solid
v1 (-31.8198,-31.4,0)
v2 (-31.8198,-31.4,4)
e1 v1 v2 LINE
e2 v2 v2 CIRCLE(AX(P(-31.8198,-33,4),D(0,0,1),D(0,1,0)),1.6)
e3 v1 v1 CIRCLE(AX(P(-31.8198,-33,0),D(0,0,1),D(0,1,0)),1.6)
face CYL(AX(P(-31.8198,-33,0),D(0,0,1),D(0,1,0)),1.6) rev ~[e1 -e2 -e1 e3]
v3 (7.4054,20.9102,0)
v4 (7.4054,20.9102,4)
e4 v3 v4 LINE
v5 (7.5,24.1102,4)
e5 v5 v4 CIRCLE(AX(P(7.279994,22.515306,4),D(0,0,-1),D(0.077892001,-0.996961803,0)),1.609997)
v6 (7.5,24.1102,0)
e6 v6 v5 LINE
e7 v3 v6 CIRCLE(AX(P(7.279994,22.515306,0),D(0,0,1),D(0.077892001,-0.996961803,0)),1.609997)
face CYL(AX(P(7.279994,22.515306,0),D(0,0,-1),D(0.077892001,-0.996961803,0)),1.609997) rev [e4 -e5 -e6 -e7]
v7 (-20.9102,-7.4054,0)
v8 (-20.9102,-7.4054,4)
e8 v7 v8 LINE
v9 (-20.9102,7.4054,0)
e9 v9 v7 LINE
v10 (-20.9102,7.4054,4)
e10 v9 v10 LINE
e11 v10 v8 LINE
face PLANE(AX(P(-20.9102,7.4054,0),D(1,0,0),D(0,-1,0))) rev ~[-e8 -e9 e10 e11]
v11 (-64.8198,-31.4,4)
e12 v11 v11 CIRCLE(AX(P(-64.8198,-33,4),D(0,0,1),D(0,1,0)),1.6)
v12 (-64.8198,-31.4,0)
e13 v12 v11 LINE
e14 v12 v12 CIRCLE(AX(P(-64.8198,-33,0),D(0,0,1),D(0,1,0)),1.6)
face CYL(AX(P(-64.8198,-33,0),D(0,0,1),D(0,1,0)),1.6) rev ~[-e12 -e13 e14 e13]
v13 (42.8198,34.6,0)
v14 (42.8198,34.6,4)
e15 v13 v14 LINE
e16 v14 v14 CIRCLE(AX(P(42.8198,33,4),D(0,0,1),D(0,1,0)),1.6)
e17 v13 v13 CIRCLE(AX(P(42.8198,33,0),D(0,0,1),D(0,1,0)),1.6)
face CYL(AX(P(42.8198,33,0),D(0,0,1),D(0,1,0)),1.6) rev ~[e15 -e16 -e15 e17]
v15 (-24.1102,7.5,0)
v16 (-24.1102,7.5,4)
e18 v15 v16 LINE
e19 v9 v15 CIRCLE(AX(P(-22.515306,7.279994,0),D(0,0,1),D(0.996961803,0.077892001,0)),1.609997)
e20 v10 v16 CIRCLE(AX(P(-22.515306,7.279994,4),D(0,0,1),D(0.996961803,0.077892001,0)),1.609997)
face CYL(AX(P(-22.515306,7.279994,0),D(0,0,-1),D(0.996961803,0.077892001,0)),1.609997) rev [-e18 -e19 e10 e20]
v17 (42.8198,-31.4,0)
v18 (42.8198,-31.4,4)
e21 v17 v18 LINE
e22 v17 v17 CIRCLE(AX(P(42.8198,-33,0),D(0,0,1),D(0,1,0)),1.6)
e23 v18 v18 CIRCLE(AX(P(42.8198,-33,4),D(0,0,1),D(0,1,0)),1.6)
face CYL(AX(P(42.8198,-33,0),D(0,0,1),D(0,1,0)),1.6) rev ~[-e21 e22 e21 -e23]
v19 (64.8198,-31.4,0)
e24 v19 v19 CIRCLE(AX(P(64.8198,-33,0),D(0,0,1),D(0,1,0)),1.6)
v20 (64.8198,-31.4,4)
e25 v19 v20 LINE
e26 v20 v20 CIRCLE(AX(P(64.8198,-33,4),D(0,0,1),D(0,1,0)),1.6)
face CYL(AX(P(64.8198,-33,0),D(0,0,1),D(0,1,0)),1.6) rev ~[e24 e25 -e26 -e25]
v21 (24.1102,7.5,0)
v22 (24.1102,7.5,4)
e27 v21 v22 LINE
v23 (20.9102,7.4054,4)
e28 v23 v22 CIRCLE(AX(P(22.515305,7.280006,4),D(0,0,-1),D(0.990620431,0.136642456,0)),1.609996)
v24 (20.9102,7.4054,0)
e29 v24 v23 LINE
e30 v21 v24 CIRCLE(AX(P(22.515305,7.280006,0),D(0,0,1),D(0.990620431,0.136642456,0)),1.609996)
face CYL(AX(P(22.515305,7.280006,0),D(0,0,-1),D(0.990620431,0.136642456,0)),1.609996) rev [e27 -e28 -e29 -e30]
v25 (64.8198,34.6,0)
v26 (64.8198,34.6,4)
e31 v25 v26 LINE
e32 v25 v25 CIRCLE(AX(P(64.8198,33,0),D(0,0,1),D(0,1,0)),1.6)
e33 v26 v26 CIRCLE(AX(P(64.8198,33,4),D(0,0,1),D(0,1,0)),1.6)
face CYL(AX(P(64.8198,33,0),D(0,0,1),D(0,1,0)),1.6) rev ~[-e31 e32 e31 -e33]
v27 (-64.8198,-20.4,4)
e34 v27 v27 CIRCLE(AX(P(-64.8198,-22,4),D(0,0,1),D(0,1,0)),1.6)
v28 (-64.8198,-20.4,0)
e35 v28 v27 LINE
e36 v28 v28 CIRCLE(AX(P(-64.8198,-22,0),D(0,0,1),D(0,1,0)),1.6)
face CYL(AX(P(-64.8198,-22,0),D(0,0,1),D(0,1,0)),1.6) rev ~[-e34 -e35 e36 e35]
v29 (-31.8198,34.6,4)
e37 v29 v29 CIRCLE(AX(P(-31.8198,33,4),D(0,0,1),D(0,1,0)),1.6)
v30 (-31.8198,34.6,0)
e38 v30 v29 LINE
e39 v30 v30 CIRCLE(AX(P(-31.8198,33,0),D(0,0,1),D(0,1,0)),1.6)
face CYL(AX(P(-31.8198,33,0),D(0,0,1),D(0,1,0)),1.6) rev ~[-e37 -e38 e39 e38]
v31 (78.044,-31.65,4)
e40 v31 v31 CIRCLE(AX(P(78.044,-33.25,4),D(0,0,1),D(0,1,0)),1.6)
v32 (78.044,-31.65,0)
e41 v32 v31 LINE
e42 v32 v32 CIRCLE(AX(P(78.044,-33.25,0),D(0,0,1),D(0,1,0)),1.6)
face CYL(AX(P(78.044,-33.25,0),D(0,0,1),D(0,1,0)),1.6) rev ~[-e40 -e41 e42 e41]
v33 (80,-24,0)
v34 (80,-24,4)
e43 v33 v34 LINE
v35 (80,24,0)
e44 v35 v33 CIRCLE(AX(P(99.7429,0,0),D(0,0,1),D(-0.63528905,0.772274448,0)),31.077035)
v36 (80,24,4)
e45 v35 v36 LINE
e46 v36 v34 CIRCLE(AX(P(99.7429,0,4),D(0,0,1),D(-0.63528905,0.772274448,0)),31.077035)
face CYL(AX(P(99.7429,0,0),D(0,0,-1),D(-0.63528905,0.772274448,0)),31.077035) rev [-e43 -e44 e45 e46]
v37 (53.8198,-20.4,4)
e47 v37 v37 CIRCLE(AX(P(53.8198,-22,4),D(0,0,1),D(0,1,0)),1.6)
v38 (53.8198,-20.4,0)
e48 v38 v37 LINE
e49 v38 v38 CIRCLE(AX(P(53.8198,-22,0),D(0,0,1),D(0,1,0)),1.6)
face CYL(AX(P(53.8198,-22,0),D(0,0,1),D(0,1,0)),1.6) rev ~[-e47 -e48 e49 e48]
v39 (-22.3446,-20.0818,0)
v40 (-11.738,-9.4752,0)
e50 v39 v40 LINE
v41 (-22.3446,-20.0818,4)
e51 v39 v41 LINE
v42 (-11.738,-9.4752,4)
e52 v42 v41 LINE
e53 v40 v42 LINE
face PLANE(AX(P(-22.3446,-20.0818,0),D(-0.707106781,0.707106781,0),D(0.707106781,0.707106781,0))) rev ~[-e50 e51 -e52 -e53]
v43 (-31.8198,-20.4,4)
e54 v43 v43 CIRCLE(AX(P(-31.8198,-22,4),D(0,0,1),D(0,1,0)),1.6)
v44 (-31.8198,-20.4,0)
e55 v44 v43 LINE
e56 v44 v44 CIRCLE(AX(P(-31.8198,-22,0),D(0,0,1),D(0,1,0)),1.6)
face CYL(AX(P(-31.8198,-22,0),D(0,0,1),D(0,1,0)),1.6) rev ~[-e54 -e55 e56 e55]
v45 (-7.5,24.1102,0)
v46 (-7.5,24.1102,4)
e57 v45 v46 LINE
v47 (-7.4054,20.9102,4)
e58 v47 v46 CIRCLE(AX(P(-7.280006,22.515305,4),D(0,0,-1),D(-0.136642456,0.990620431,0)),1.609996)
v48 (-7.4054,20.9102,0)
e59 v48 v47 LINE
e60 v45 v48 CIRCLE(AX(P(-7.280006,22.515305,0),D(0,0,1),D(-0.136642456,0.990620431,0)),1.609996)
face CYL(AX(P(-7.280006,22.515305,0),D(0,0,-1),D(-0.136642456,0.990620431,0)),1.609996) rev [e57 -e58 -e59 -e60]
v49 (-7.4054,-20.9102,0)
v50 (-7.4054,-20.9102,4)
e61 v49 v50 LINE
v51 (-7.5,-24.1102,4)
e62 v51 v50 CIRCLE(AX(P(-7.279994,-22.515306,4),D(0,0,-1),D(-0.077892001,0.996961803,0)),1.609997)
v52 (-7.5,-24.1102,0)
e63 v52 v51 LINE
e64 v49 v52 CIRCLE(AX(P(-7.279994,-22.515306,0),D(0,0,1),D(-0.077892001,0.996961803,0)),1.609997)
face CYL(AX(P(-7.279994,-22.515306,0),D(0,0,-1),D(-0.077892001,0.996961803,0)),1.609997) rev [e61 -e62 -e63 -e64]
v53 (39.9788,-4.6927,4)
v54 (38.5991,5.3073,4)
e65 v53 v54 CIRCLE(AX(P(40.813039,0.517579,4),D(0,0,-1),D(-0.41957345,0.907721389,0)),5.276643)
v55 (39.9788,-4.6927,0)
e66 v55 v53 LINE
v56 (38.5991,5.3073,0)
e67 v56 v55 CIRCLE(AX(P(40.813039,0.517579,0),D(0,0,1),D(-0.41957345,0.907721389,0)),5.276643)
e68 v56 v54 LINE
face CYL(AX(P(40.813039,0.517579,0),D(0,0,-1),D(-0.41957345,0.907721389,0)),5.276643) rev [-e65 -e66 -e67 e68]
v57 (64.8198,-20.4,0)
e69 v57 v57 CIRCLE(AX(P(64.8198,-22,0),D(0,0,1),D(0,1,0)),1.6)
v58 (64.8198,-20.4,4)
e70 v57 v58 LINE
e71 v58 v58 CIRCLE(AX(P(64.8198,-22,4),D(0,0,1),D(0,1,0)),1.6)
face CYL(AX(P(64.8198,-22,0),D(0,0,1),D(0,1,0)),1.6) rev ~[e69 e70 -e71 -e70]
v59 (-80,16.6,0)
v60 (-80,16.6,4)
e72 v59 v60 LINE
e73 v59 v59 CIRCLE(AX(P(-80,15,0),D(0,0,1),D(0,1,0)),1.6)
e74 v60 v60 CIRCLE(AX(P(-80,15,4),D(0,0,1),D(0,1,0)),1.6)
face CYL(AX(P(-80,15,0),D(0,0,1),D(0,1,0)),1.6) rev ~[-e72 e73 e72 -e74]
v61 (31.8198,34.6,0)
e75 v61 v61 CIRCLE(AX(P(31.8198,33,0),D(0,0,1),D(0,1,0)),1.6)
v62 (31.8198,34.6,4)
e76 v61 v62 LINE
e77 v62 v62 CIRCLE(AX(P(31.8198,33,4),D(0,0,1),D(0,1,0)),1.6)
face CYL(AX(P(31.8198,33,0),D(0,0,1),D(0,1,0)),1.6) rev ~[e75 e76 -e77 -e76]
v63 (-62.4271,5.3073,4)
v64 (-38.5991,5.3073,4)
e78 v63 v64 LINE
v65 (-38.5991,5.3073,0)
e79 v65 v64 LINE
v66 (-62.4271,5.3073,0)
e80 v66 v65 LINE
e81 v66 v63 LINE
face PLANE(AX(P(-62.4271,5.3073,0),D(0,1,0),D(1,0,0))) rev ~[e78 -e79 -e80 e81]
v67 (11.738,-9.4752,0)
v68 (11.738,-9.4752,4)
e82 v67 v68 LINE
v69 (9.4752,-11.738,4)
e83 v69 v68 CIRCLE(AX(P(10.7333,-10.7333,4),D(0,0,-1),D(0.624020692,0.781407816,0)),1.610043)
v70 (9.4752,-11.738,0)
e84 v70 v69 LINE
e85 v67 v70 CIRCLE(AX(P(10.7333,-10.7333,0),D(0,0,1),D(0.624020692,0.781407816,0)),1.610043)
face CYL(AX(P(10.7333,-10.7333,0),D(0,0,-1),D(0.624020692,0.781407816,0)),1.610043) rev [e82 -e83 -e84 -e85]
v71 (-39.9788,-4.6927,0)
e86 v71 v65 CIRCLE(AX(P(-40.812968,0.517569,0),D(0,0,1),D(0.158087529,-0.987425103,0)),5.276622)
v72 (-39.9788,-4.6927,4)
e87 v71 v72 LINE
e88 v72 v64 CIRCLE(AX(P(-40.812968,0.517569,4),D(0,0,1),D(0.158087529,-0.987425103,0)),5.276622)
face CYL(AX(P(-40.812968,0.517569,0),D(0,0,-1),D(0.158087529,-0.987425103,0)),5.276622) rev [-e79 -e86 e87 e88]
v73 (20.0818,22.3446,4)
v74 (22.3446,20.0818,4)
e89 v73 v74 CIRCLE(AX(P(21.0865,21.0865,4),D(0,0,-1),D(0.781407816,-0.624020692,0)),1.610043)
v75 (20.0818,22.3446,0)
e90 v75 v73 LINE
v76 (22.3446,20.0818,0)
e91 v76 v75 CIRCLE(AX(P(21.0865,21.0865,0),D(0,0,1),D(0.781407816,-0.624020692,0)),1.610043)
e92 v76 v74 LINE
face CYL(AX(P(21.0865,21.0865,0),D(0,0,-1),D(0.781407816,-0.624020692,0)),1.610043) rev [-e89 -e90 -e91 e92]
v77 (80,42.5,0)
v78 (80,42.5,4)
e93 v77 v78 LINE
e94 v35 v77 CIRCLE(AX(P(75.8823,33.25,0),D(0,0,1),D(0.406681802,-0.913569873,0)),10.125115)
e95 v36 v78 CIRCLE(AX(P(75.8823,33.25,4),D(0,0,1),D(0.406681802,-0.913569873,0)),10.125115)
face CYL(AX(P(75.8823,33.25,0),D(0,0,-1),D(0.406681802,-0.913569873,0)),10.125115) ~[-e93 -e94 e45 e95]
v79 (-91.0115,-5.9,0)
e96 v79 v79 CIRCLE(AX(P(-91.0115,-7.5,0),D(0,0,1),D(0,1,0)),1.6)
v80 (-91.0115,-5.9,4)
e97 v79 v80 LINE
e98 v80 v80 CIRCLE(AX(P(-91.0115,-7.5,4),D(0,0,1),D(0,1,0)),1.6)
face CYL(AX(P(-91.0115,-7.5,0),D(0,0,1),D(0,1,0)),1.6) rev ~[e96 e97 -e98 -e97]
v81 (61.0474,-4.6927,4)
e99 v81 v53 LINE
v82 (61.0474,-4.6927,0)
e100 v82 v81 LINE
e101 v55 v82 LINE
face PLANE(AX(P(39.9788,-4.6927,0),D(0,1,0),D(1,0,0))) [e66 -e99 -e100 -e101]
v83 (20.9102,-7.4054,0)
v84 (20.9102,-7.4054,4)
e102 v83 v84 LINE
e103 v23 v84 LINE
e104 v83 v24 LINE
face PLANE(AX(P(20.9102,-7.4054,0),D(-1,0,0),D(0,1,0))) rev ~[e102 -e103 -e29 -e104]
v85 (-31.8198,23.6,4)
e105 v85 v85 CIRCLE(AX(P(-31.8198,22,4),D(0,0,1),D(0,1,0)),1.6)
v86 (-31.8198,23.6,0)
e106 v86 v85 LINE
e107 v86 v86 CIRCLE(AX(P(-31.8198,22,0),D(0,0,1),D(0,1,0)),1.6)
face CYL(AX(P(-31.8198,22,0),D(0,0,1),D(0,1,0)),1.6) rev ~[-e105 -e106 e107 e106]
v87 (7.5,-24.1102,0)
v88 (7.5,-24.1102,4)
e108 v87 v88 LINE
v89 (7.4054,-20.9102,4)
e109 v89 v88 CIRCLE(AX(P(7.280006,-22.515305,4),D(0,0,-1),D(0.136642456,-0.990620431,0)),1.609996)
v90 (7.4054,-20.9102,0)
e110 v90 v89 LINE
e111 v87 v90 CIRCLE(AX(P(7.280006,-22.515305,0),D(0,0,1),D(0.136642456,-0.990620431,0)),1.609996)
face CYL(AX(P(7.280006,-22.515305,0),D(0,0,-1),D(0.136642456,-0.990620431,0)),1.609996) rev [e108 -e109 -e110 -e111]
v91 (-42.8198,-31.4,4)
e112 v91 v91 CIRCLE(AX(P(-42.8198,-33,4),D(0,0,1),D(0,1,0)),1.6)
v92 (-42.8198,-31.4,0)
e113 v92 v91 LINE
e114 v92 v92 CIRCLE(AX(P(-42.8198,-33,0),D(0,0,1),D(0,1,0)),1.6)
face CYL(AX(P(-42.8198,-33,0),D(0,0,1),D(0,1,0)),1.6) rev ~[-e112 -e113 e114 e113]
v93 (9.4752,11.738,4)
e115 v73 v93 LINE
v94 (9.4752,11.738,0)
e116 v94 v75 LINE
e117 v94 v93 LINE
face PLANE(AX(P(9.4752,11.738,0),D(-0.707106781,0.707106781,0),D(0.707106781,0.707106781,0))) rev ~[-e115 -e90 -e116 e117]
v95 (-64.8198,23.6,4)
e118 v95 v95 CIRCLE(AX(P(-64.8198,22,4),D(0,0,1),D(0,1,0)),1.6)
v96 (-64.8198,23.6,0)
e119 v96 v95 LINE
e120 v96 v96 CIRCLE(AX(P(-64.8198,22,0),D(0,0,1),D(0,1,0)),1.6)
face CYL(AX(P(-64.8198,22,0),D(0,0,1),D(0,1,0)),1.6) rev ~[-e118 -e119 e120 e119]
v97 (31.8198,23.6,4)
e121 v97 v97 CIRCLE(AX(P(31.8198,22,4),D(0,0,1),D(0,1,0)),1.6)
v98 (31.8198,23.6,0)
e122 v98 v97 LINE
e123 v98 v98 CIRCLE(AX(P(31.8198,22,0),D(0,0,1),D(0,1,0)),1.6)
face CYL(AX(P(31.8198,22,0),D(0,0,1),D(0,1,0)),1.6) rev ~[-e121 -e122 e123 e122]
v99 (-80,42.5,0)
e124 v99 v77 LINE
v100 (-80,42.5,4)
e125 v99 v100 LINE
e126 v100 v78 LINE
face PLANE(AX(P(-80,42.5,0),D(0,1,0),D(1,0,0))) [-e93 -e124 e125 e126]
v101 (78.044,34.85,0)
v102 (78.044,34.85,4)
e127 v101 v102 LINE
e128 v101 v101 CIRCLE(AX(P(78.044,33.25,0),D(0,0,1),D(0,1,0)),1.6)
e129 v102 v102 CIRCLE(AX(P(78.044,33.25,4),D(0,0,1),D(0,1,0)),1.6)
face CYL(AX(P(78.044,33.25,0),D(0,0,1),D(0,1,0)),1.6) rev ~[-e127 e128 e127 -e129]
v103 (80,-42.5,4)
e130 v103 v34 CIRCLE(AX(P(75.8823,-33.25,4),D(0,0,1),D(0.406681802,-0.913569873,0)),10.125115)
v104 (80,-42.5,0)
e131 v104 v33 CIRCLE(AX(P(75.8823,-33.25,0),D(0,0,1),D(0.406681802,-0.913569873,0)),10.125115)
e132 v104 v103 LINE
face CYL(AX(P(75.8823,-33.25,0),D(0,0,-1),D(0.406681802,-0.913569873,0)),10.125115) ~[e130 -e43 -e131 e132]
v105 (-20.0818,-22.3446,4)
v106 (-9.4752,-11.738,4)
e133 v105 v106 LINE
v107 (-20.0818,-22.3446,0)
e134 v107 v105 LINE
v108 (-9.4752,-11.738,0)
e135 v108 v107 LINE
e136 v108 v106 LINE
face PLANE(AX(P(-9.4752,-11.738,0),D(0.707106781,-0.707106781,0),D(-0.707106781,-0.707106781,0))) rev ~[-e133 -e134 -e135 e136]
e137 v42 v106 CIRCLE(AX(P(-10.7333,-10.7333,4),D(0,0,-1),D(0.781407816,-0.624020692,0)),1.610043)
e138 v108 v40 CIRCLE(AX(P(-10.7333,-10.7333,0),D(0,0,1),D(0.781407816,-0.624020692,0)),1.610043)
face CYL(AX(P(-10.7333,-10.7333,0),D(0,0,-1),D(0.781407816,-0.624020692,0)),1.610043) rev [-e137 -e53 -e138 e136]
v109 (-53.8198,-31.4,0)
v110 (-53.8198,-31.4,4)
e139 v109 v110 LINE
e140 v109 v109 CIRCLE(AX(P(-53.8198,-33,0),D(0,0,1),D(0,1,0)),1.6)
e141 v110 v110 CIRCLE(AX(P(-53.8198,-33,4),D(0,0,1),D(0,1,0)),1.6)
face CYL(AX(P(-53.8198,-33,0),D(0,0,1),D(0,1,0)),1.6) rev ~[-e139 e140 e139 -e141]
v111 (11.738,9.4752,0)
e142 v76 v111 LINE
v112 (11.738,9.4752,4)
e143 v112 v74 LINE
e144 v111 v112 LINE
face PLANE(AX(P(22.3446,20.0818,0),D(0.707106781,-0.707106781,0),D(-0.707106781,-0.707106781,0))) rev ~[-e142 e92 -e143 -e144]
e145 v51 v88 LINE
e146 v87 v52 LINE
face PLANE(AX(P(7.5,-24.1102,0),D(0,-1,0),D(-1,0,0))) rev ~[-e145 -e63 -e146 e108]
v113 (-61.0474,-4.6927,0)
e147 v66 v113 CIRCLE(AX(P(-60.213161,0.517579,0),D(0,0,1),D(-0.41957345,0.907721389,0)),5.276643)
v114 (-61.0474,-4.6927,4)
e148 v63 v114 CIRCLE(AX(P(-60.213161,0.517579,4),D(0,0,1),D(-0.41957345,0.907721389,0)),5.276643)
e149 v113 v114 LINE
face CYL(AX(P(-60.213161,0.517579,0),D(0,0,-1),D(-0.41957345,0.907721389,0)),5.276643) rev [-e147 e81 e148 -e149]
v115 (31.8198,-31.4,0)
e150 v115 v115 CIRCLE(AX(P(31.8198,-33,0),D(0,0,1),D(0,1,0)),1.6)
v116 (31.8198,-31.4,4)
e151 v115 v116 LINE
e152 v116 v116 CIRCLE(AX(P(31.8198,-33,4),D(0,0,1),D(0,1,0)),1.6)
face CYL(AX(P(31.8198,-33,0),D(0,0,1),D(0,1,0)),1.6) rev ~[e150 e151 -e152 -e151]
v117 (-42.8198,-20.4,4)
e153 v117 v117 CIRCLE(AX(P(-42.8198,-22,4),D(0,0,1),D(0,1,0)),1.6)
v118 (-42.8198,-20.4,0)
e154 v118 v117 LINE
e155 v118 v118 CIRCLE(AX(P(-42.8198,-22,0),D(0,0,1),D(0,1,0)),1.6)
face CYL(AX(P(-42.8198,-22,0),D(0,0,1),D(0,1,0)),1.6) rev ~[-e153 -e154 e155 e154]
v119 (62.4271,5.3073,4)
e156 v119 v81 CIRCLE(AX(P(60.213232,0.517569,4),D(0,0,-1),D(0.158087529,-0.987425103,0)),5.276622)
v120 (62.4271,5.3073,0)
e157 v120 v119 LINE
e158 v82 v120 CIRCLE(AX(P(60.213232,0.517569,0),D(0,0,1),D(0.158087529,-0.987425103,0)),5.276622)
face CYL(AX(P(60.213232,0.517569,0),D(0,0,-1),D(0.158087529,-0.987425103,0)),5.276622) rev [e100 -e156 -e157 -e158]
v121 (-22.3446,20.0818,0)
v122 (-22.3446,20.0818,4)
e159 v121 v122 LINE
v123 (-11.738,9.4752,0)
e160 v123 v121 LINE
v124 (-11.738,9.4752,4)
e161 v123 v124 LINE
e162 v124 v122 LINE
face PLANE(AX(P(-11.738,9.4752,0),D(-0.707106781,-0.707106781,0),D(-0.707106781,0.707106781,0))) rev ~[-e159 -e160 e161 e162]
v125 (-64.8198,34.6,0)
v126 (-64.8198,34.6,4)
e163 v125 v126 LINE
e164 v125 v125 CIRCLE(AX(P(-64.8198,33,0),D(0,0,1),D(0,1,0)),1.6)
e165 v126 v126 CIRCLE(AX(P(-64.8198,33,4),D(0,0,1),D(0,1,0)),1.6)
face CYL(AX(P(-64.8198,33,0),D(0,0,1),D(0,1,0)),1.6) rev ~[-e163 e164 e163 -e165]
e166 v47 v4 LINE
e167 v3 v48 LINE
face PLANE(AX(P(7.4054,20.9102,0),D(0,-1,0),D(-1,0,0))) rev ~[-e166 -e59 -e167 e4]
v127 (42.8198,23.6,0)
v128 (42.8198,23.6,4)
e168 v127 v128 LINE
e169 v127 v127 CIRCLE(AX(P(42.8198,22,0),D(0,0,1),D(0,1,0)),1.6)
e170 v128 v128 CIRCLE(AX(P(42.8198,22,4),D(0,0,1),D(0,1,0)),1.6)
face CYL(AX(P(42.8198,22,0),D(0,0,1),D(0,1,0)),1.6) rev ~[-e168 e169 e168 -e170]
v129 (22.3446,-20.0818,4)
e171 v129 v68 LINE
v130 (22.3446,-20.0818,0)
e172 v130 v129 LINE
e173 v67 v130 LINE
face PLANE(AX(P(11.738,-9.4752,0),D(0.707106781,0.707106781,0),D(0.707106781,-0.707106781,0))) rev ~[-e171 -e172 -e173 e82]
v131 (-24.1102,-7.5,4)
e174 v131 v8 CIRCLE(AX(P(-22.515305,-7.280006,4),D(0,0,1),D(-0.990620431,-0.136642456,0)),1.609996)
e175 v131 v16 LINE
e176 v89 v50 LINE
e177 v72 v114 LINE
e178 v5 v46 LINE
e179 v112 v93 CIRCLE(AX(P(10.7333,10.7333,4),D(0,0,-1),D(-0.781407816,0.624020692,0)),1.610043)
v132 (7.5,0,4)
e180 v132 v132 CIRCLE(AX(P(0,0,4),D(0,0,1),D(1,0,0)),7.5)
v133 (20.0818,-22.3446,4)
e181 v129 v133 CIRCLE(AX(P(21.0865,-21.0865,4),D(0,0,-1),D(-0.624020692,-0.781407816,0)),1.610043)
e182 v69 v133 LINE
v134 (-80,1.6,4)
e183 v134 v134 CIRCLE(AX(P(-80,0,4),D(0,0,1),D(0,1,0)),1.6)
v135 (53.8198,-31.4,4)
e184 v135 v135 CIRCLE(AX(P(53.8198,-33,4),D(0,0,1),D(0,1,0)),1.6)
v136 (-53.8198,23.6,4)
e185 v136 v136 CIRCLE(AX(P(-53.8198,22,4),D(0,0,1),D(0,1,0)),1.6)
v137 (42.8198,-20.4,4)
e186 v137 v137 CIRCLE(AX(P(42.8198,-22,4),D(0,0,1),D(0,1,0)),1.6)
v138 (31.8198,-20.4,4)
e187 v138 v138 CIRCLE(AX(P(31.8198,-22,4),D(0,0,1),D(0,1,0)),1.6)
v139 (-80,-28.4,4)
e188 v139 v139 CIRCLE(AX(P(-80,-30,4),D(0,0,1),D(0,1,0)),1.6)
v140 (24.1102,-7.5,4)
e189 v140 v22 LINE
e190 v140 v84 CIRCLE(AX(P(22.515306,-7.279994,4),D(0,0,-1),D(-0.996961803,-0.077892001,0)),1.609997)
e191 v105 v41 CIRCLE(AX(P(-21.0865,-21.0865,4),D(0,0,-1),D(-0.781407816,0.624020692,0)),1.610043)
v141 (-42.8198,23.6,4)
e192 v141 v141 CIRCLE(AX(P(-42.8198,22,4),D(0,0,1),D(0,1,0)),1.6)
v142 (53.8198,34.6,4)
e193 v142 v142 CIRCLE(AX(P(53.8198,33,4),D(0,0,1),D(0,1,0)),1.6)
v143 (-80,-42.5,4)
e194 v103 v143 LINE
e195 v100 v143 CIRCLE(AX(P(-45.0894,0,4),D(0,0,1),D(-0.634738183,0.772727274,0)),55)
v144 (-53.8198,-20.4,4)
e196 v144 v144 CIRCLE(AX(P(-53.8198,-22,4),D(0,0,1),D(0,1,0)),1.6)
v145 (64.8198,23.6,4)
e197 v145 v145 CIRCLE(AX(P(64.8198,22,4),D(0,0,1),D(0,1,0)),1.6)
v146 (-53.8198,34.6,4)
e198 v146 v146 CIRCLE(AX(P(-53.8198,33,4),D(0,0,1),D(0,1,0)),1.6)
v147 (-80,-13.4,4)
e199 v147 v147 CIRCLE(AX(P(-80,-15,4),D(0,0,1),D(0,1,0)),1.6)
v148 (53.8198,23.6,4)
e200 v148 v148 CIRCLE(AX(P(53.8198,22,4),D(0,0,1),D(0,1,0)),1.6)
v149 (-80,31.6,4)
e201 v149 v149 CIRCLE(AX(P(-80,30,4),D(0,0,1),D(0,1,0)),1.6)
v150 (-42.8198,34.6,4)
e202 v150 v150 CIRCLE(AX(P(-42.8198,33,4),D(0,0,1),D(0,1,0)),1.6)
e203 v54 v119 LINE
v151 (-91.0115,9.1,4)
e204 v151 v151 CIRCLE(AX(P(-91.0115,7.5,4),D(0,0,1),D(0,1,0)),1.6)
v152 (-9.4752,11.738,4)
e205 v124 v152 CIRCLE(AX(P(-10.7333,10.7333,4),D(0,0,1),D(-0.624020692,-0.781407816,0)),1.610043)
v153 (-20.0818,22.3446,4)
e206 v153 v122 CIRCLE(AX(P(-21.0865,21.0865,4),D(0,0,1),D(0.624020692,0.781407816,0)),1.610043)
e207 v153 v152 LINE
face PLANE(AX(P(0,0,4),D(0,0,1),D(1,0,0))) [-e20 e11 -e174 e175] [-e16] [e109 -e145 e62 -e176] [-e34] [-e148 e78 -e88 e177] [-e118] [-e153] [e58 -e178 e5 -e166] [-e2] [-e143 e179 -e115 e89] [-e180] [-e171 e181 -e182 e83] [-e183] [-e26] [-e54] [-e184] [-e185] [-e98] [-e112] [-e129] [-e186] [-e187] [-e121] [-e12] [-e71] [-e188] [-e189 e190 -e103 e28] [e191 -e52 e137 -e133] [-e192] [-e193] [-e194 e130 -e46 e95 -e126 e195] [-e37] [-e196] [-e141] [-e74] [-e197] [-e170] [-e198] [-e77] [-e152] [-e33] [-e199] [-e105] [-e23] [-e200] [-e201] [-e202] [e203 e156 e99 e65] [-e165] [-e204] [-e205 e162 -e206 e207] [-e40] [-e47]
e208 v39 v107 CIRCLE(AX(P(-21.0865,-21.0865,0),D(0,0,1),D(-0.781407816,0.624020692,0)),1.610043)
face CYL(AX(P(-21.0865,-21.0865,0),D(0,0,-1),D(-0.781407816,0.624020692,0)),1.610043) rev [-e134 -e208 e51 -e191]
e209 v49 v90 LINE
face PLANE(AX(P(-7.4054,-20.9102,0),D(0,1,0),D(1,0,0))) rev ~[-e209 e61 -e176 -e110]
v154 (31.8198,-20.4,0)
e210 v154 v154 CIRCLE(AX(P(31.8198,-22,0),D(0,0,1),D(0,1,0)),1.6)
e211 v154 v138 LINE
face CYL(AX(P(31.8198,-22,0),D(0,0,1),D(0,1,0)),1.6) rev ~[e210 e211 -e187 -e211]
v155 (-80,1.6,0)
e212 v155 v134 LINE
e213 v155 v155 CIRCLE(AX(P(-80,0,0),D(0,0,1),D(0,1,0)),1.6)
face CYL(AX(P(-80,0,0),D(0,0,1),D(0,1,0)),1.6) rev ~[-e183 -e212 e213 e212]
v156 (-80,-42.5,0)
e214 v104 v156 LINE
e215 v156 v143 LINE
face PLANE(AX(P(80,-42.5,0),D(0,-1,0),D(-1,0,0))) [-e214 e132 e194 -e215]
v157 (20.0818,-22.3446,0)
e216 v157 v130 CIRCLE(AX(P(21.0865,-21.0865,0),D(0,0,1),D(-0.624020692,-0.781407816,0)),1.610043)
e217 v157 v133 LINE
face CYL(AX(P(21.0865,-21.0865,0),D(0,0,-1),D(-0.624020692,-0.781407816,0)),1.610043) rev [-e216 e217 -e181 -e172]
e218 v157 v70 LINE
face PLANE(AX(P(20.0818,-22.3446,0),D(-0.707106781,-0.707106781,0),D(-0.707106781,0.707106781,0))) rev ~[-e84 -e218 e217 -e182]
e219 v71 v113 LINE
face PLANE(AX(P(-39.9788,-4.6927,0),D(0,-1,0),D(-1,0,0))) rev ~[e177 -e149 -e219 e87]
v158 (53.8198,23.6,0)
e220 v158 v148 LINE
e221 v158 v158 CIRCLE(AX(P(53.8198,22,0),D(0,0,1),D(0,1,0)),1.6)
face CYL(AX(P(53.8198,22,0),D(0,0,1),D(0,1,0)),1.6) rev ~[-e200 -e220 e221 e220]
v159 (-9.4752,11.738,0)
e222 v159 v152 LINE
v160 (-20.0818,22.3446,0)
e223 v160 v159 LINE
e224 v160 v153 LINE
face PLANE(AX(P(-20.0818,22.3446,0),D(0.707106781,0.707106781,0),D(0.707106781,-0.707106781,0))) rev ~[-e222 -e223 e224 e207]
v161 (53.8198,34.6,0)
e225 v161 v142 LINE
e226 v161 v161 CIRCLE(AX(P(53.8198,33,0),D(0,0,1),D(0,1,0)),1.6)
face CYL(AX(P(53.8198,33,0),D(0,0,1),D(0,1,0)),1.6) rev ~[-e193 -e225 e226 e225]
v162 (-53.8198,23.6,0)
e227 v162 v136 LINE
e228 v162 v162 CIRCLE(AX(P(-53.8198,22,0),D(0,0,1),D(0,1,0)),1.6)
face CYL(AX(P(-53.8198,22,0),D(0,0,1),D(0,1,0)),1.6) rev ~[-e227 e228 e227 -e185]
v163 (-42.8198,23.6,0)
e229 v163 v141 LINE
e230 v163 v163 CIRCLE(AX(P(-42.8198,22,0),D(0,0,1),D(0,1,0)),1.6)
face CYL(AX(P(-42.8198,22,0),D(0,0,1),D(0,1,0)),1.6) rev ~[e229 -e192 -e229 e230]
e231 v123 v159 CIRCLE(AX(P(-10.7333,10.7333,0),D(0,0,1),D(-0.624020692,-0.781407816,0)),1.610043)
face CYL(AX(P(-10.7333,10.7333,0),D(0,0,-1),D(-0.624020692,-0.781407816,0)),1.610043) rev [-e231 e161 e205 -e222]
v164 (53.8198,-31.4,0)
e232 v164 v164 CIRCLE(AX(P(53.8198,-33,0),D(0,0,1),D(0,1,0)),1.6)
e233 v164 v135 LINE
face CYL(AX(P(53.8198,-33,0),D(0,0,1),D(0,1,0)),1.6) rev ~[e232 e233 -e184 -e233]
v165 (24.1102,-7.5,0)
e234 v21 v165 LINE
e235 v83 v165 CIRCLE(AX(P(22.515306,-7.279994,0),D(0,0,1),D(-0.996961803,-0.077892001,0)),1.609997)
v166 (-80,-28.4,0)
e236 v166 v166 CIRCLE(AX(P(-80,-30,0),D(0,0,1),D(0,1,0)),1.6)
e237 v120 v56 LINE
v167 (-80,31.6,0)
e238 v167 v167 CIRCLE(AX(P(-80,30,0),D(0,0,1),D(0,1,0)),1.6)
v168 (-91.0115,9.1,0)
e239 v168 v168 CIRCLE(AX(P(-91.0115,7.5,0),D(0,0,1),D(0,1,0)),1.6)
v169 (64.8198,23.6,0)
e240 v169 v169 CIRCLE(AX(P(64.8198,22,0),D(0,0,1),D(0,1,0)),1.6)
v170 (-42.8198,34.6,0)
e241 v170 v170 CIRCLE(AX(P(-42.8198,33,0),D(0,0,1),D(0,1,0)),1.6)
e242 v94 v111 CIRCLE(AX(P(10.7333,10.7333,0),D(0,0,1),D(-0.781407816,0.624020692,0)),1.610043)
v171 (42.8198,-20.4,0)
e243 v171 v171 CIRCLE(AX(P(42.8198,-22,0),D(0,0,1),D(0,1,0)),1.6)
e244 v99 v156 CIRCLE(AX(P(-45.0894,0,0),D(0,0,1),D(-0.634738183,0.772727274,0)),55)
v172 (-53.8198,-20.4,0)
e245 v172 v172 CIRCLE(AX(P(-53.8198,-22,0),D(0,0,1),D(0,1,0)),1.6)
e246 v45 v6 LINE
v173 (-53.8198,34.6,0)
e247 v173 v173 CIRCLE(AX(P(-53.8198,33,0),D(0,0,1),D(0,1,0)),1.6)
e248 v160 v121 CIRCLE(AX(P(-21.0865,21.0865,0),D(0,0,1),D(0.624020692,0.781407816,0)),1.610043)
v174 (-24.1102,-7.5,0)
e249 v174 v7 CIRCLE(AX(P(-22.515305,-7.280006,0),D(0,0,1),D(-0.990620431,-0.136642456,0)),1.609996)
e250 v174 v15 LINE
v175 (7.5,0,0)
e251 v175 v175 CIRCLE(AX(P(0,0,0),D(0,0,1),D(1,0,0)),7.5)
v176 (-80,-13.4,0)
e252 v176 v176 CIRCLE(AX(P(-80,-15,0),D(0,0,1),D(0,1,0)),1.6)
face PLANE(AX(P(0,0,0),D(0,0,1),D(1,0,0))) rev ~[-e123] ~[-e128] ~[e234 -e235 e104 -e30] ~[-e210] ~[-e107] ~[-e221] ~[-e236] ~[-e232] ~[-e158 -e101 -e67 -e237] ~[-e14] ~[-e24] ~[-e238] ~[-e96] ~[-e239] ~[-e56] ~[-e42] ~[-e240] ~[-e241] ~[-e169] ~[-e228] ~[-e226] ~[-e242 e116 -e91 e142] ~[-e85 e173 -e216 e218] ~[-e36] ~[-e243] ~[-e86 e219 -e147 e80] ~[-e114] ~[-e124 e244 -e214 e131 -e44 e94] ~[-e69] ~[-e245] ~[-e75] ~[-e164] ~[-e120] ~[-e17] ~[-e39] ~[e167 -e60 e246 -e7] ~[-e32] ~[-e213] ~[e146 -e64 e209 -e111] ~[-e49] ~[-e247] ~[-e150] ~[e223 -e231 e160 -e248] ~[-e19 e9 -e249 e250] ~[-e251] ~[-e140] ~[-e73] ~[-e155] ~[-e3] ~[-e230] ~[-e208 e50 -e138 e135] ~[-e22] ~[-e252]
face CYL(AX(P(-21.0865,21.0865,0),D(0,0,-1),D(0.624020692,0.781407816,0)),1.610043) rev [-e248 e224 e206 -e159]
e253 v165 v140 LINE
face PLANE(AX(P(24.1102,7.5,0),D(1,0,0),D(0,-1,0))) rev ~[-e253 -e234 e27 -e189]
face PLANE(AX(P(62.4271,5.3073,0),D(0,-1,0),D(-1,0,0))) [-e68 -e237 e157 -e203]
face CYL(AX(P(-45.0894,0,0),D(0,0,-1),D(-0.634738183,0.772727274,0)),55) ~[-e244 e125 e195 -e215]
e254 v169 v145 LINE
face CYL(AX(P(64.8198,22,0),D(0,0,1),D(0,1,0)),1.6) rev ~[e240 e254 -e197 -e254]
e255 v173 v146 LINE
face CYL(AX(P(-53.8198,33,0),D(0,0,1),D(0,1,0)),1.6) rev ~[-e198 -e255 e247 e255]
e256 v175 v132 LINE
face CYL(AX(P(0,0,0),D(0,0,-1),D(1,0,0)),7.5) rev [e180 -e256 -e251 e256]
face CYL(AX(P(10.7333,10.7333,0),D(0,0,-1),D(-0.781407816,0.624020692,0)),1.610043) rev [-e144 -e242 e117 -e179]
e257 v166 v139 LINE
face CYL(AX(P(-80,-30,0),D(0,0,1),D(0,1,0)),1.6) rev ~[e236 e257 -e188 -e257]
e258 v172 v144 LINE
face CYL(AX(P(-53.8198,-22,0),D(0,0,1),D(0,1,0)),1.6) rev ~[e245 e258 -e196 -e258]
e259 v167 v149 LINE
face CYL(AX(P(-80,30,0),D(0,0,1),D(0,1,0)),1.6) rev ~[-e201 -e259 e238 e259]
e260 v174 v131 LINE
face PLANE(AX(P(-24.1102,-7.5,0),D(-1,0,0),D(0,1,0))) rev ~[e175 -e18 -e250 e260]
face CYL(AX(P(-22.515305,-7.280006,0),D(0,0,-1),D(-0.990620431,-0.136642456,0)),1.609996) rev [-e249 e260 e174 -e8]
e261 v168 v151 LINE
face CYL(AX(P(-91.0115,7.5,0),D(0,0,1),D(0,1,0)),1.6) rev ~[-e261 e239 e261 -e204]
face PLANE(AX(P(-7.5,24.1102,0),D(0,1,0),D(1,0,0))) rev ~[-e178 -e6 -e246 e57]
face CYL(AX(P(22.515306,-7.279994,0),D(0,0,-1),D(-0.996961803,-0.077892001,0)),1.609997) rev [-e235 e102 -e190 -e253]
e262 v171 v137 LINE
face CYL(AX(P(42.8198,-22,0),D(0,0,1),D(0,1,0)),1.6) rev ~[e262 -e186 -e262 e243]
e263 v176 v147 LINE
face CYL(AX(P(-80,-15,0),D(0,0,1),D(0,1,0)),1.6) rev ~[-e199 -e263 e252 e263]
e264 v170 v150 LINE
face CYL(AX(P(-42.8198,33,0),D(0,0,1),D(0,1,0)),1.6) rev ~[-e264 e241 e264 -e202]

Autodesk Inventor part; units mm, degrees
ref_plane "YZ Plane" through (0, 0, 0) normal (1, 0, 0) x (0, 1, 0)
ref_plane "XZ Plane" through (0, 0, 0) normal (0, 1, 0) x (-1, 0, 0)
ref_plane "XY Plane" through (0, 0, 0) normal (0, 0, 1) x (1, 0, 0)
sketch "草图1" plane through (0, 0, 0) normal (0, 0, 1) x (1, 0, 0)
  line L0 (80, -42.5) -> (-80, -42.5)
  line L1 (-80, 42.5) -> (80, 42.5)
  line L2 (80, -42.5) -> (-80, 42.5) construction
  line L3 (-80, -42.5) -> (80, 42.5) construction
  arc A0 (-80, 42.5) -> (-80, -42.5) centre (-45.0894, 0) ccw
  line L4 (0, 50.4113) -> (0, -46.1071) construction
  line L5 (96.3853, 0) -> (-113.3157, 0) construction
  line L6 (0, 24) -> (80, 24) construction
  line L7 (-155.9274, 0) -> (142.3547, 0) construction
  arc A1 (80, 24) -> (80, -24) centre (99.7429, 0) ccw
  arc A2 (80, 24) -> (80, 42.5) centre (75.8823, 33.25) ccw
  arc A3 (80, -42.5) -> (80, -24) centre (75.8823, -33.25) ccw
  circle A4 centre (0, 0) radius 7.5
  line L8 (0, 0) -> (-30.1738, 30.1738) construction
  arc A5 (-21.2132, 21.2132) -> (-20.0583, 22.3084) centre (0, 0) ccw construction
  arc A6 (-11.6701, 9.4239) -> (-9.4239, 11.6701) centre (0, 0) ccw construction
  line L9 (-10.6066, 10.6066) -> (-11.738, 9.4752) construction
  circle A7 centre (0, 0) radius 22.5 construction
  line L10 (-20.0818, 22.3446) -> (-9.4752, 11.738)
  line L11 (-10.6066, 10.6066) -> (-11.738, 9.4752) construction
  line L12 (-11.738, 9.4752) -> (-22.3446, 20.0818)
  line L13 (-20.0818, 22.3446) -> (-11.738, 9.4752) construction
  line L14 (-9.4752, 11.738) -> (-22.3446, 20.0818) construction
  arc A8 (-20.0818, 22.3446) -> (-22.3446, 20.0818) centre (-21.0865, 21.0865) ccw
  line L15 (-15.9099, 15.9099) -> (-9.5106, 22.3092) construction
  arc A9 (-11.738, 9.4752) -> (-9.4752, 11.738) centre (-10.7333, 10.7333) ccw
  line L16 (-24.1102, -7.5) -> (-24.1102, 7.5)
  line L17 (-20.9102, 7.4054) -> (-20.9102, -7.4054)
  line L18 (-20.9102, -7.4054) -> (-24.1102, 7.5) construction
  line L19 (-24.1102, -7.5) -> (-20.9102, 7.4054) construction
  arc A10 (-20.9102, 7.4054) -> (-24.1102, 7.5) centre (-22.5153, 7.28) ccw
  arc A11 (-24.1102, -7.5) -> (-20.9102, -7.4054) centre (-22.5153, -7.28) ccw
  line L20 (-31.8198, 0) -> (-31.8198, 22) construction
  line L21 (-31.8198, 22) -> (-64.8198, 22) construction
  line L22 (-31.8198, 22) -> (-31.8198, 33) construction
  line L23 (-31.8198, 33) -> (-64.8198, 33) construction
  line L24 (-39.9788, -4.6927) -> (-61.0474, -4.6927)
  line L25 (-62.4271, 5.3073) -> (-38.5991, 5.3073)
  line L26 (-39.9788, -4.6927) -> (-62.4271, 5.3073) construction
  line L27 (-61.0474, -4.6927) -> (-38.5991, 5.3073) construction
  arc A12 (-62.4271, 5.3073) -> (-61.0474, -4.6927) centre (-60.2132, 0.5176) ccw
  line L28 (-50.5131, 0) -> (-50.5131, 11.6306) construction
  arc A13 (-39.9788, -4.6927) -> (-38.5991, 5.3073) centre (-40.813, 0.5176) ccw
  line L29 (22.3446, 20.0818) -> (11.738, 9.4752)
  line L30 (9.4752, 11.738) -> (20.0818, 22.3446)
  arc A14 (22.3446, 20.0818) -> (20.0818, 22.3446) centre (21.0865, 21.0865) ccw
  arc A15 (9.4752, 11.738) -> (11.738, 9.4752) centre (10.7333, 10.7333) ccw
  line L31 (7.4054, 20.9102) -> (-7.4054, 20.9102)
  line L32 (-7.5, 24.1102) -> (7.5, 24.1102)
  arc A16 (7.4054, 20.9102) -> (7.5, 24.1102) centre (7.28, 22.5153) ccw
  arc A17 (-7.5, 24.1102) -> (-7.4054, 20.9102) centre (-7.28, 22.5153) ccw
  line L33 (20.0818, -22.3446) -> (9.4752, -11.738)
  line L34 (11.738, -9.4752) -> (22.3446, -20.0818)
  arc A18 (20.0818, -22.3446) -> (22.3446, -20.0818) centre (21.0865, -21.0865) ccw
  arc A19 (11.738, -9.4752) -> (9.4752, -11.738) centre (10.7333, -10.7333) ccw
  line L35 (20.9102, -7.4054) -> (20.9102, 7.4054)
  line L36 (24.1102, 7.5) -> (24.1102, -7.5)
  arc A20 (20.9102, -7.4054) -> (24.1102, -7.5) centre (22.5153, -7.28) ccw
  arc A21 (24.1102, 7.5) -> (20.9102, 7.4054) centre (22.5153, 7.28) ccw
  line L37 (-22.3446, -20.0818) -> (-11.738, -9.4752)
  line L38 (-9.4752, -11.738) -> (-20.0818, -22.3446)
  arc A22 (-22.3446, -20.0818) -> (-20.0818, -22.3446) centre (-21.0865, -21.0865) ccw
  arc A23 (-9.4752, -11.738) -> (-11.738, -9.4752) centre (-10.7333, -10.7333) ccw
  line L39 (-7.4054, -20.9102) -> (7.4054, -20.9102)
  line L40 (7.5, -24.1102) -> (-7.5, -24.1102)
  arc A24 (-7.4054, -20.9102) -> (-7.5, -24.1102) centre (-7.28, -22.5153) ccw
  arc A25 (7.5, -24.1102) -> (7.4054, -20.9102) centre (7.28, -22.5153) ccw
  line L41 (39.9788, -4.6927) -> (61.0474, -4.6927)
  line L42 (62.4271, 5.3073) -> (38.5991, 5.3073)
  arc A26 (61.0474, -4.6927) -> (62.4271, 5.3073) centre (60.2132, 0.5176) ccw
  arc A27 (38.5991, 5.3073) -> (39.9788, -4.6927) centre (40.813, 0.5176) ccw
  point P0 (-22.5, 0)
  point P1 (78.044, 33.25)
  point P2 (78.044, -33.25)
  point P3 (-53.8198, 22)
  point P4 (-42.8198, 22)
  point P5 (-53.8198, 33)
  point P6 (-42.8198, 33)
  point P7 (-80, 0)
  point P8 (-80, 15)
  point P9 (-80, 30)
  point P10 (-31.8198, -22)
  point P11 (-64.8198, -22)
  point P12 (-53.8198, -22)
  point P13 (-42.8198, -22)
  point P14 (-31.8198, -33)
  point P15 (-64.8198, -33)
  point P16 (-53.8198, -33)
  point P17 (-42.8198, -33)
  point P18 (-80, -15)
  point P19 (-80, -30)
  point P20 (31.8198, 22)
  point P21 (64.8198, 22)
  point P22 (53.8198, 22)
  point P23 (42.8198, 22)
  point P24 (31.8198, 33)
  point P25 (64.8198, 33)
  point P26 (53.8198, 33)
  point P27 (42.8198, 33)
  point P28 (31.8198, -33)
  point P29 (31.8198, -22)
  point P30 (42.8198, -33)
  point P31 (42.8198, -22)
  point P32 (53.8198, -33)
  point P33 (53.8198, -22)
  point P34 (64.8198, -33)
  point P35 (64.8198, -22)
  point P36 (-91.0115, 7.5)
  point P37 (11.6701, 9.4239)
  point P38 (9.4239, 11.6701)
  point P39 (9.4239, -11.6701)
  point P40 (11.6701, -9.4239)
  point P41 (-11.6701, -9.4239)
  point P42 (-9.4239, -11.6701)
  point P43 (-91.0115, -7.5)
  dimension "d0" = 160
  dimension "d1" = 24
  dimension "d2" = 85
  dimension "d3" = 15
  dimension "d4" = 45
  dimension "d5" = 60
  dimension "d6" = 30
  dimension "d7" = 1.6
  dimension "d8" = 45
  dimension "d9" = 3.2
  dimension "d10" = 15
  dimension "d11" = 1.61
  dimension "d12" = 1.61
  dimension "d13" = 22
  dimension "d15" = 11
  dimension "d16" = 11
  dimension "d17" = 11
  dimension "d18" = 33
  dimension "d19" = 55
  dimension "d20" = 15
  dimension "d21" = 15
  dimension "d22" = 10
  dimension "d25" = 7.5
  dimension "d28" = 360
  dimension "d41" = 1.6
extrude "拉伸1" add sketch "草图1" along normal blind 4 contours L0 A0 L1 A2 A1 A3 | L29 A15 L30 A14 | L31 A17 L32 A16 | L33 A19 L34 A18 | L35 A21 L36 A20 | L37 A23 L38 A22 | L39 A25 L40 A24 | A27 L42 A26 L41
extrude "拉伸2" cut sketch "草图1" along normal through all contours L29 A15 L30 A14 | L31 A17 L32 A16 | L33 A19 L34 A18 | L35 A21 L36 A20 | L37 A23 L38 A22 | L39 A25 L40 A24
extrude "拉伸3" cut sketch "草图1" along normal through all contours A27 L42 A26 L41
hole "孔1" at (78.044, 33.25, 0) at (78.044, -33.25, 0) at (-31.8198, 22, 0) at (-64.8198, 22, 0) at (-53.8198, 22, 0) at (-42.8198, 22, 0) at (-31.8198, 33, 0) at (-64.8198, 33, 0) at (-53.8198, 33, 0) at (-42.8198, 33, 0) at (-80, 0, 0) at (-80, 15, 0) at (-80, 30, 0) at (-31.8198, -33, 0) at (-31.8198, -22, 0) at (-42.8198, -33, 0) at (-42.8198, -22, 0) at (-53.8198, -33, 0) at (-53.8198, -22, 0) at (-64.8198, -33, 0) at (-64.8198, -22, 0) at (-80, -30, 0) at (-80, -15, 0) at (42.8198, 22, 0) at (42.8198, 33, 0) at (53.8198, 33, 0) at (53.8198, 22, 0) at (64.8198, 22, 0) at (64.8198, -22, 0) at (53.8198, -22, 0) at (42.8198, -22, 0) at (31.8198, -22, 0) at (31.8198, -33, 0) at (42.8198, -33, 0) at (53.8198, -33, 0) at (64.8198, -33, 0) at (-91.0115, 7.5, 0) at (-91.0115, -7.5, 0) at (31.8198, 33, 0) at (31.8198, 22, 0) at (64.8198, 33, 0) direction (0, 0, 1) diameter 3.2 end through all
properties part number "底盘设计1.2" material "聚碳酸酯，透明"
